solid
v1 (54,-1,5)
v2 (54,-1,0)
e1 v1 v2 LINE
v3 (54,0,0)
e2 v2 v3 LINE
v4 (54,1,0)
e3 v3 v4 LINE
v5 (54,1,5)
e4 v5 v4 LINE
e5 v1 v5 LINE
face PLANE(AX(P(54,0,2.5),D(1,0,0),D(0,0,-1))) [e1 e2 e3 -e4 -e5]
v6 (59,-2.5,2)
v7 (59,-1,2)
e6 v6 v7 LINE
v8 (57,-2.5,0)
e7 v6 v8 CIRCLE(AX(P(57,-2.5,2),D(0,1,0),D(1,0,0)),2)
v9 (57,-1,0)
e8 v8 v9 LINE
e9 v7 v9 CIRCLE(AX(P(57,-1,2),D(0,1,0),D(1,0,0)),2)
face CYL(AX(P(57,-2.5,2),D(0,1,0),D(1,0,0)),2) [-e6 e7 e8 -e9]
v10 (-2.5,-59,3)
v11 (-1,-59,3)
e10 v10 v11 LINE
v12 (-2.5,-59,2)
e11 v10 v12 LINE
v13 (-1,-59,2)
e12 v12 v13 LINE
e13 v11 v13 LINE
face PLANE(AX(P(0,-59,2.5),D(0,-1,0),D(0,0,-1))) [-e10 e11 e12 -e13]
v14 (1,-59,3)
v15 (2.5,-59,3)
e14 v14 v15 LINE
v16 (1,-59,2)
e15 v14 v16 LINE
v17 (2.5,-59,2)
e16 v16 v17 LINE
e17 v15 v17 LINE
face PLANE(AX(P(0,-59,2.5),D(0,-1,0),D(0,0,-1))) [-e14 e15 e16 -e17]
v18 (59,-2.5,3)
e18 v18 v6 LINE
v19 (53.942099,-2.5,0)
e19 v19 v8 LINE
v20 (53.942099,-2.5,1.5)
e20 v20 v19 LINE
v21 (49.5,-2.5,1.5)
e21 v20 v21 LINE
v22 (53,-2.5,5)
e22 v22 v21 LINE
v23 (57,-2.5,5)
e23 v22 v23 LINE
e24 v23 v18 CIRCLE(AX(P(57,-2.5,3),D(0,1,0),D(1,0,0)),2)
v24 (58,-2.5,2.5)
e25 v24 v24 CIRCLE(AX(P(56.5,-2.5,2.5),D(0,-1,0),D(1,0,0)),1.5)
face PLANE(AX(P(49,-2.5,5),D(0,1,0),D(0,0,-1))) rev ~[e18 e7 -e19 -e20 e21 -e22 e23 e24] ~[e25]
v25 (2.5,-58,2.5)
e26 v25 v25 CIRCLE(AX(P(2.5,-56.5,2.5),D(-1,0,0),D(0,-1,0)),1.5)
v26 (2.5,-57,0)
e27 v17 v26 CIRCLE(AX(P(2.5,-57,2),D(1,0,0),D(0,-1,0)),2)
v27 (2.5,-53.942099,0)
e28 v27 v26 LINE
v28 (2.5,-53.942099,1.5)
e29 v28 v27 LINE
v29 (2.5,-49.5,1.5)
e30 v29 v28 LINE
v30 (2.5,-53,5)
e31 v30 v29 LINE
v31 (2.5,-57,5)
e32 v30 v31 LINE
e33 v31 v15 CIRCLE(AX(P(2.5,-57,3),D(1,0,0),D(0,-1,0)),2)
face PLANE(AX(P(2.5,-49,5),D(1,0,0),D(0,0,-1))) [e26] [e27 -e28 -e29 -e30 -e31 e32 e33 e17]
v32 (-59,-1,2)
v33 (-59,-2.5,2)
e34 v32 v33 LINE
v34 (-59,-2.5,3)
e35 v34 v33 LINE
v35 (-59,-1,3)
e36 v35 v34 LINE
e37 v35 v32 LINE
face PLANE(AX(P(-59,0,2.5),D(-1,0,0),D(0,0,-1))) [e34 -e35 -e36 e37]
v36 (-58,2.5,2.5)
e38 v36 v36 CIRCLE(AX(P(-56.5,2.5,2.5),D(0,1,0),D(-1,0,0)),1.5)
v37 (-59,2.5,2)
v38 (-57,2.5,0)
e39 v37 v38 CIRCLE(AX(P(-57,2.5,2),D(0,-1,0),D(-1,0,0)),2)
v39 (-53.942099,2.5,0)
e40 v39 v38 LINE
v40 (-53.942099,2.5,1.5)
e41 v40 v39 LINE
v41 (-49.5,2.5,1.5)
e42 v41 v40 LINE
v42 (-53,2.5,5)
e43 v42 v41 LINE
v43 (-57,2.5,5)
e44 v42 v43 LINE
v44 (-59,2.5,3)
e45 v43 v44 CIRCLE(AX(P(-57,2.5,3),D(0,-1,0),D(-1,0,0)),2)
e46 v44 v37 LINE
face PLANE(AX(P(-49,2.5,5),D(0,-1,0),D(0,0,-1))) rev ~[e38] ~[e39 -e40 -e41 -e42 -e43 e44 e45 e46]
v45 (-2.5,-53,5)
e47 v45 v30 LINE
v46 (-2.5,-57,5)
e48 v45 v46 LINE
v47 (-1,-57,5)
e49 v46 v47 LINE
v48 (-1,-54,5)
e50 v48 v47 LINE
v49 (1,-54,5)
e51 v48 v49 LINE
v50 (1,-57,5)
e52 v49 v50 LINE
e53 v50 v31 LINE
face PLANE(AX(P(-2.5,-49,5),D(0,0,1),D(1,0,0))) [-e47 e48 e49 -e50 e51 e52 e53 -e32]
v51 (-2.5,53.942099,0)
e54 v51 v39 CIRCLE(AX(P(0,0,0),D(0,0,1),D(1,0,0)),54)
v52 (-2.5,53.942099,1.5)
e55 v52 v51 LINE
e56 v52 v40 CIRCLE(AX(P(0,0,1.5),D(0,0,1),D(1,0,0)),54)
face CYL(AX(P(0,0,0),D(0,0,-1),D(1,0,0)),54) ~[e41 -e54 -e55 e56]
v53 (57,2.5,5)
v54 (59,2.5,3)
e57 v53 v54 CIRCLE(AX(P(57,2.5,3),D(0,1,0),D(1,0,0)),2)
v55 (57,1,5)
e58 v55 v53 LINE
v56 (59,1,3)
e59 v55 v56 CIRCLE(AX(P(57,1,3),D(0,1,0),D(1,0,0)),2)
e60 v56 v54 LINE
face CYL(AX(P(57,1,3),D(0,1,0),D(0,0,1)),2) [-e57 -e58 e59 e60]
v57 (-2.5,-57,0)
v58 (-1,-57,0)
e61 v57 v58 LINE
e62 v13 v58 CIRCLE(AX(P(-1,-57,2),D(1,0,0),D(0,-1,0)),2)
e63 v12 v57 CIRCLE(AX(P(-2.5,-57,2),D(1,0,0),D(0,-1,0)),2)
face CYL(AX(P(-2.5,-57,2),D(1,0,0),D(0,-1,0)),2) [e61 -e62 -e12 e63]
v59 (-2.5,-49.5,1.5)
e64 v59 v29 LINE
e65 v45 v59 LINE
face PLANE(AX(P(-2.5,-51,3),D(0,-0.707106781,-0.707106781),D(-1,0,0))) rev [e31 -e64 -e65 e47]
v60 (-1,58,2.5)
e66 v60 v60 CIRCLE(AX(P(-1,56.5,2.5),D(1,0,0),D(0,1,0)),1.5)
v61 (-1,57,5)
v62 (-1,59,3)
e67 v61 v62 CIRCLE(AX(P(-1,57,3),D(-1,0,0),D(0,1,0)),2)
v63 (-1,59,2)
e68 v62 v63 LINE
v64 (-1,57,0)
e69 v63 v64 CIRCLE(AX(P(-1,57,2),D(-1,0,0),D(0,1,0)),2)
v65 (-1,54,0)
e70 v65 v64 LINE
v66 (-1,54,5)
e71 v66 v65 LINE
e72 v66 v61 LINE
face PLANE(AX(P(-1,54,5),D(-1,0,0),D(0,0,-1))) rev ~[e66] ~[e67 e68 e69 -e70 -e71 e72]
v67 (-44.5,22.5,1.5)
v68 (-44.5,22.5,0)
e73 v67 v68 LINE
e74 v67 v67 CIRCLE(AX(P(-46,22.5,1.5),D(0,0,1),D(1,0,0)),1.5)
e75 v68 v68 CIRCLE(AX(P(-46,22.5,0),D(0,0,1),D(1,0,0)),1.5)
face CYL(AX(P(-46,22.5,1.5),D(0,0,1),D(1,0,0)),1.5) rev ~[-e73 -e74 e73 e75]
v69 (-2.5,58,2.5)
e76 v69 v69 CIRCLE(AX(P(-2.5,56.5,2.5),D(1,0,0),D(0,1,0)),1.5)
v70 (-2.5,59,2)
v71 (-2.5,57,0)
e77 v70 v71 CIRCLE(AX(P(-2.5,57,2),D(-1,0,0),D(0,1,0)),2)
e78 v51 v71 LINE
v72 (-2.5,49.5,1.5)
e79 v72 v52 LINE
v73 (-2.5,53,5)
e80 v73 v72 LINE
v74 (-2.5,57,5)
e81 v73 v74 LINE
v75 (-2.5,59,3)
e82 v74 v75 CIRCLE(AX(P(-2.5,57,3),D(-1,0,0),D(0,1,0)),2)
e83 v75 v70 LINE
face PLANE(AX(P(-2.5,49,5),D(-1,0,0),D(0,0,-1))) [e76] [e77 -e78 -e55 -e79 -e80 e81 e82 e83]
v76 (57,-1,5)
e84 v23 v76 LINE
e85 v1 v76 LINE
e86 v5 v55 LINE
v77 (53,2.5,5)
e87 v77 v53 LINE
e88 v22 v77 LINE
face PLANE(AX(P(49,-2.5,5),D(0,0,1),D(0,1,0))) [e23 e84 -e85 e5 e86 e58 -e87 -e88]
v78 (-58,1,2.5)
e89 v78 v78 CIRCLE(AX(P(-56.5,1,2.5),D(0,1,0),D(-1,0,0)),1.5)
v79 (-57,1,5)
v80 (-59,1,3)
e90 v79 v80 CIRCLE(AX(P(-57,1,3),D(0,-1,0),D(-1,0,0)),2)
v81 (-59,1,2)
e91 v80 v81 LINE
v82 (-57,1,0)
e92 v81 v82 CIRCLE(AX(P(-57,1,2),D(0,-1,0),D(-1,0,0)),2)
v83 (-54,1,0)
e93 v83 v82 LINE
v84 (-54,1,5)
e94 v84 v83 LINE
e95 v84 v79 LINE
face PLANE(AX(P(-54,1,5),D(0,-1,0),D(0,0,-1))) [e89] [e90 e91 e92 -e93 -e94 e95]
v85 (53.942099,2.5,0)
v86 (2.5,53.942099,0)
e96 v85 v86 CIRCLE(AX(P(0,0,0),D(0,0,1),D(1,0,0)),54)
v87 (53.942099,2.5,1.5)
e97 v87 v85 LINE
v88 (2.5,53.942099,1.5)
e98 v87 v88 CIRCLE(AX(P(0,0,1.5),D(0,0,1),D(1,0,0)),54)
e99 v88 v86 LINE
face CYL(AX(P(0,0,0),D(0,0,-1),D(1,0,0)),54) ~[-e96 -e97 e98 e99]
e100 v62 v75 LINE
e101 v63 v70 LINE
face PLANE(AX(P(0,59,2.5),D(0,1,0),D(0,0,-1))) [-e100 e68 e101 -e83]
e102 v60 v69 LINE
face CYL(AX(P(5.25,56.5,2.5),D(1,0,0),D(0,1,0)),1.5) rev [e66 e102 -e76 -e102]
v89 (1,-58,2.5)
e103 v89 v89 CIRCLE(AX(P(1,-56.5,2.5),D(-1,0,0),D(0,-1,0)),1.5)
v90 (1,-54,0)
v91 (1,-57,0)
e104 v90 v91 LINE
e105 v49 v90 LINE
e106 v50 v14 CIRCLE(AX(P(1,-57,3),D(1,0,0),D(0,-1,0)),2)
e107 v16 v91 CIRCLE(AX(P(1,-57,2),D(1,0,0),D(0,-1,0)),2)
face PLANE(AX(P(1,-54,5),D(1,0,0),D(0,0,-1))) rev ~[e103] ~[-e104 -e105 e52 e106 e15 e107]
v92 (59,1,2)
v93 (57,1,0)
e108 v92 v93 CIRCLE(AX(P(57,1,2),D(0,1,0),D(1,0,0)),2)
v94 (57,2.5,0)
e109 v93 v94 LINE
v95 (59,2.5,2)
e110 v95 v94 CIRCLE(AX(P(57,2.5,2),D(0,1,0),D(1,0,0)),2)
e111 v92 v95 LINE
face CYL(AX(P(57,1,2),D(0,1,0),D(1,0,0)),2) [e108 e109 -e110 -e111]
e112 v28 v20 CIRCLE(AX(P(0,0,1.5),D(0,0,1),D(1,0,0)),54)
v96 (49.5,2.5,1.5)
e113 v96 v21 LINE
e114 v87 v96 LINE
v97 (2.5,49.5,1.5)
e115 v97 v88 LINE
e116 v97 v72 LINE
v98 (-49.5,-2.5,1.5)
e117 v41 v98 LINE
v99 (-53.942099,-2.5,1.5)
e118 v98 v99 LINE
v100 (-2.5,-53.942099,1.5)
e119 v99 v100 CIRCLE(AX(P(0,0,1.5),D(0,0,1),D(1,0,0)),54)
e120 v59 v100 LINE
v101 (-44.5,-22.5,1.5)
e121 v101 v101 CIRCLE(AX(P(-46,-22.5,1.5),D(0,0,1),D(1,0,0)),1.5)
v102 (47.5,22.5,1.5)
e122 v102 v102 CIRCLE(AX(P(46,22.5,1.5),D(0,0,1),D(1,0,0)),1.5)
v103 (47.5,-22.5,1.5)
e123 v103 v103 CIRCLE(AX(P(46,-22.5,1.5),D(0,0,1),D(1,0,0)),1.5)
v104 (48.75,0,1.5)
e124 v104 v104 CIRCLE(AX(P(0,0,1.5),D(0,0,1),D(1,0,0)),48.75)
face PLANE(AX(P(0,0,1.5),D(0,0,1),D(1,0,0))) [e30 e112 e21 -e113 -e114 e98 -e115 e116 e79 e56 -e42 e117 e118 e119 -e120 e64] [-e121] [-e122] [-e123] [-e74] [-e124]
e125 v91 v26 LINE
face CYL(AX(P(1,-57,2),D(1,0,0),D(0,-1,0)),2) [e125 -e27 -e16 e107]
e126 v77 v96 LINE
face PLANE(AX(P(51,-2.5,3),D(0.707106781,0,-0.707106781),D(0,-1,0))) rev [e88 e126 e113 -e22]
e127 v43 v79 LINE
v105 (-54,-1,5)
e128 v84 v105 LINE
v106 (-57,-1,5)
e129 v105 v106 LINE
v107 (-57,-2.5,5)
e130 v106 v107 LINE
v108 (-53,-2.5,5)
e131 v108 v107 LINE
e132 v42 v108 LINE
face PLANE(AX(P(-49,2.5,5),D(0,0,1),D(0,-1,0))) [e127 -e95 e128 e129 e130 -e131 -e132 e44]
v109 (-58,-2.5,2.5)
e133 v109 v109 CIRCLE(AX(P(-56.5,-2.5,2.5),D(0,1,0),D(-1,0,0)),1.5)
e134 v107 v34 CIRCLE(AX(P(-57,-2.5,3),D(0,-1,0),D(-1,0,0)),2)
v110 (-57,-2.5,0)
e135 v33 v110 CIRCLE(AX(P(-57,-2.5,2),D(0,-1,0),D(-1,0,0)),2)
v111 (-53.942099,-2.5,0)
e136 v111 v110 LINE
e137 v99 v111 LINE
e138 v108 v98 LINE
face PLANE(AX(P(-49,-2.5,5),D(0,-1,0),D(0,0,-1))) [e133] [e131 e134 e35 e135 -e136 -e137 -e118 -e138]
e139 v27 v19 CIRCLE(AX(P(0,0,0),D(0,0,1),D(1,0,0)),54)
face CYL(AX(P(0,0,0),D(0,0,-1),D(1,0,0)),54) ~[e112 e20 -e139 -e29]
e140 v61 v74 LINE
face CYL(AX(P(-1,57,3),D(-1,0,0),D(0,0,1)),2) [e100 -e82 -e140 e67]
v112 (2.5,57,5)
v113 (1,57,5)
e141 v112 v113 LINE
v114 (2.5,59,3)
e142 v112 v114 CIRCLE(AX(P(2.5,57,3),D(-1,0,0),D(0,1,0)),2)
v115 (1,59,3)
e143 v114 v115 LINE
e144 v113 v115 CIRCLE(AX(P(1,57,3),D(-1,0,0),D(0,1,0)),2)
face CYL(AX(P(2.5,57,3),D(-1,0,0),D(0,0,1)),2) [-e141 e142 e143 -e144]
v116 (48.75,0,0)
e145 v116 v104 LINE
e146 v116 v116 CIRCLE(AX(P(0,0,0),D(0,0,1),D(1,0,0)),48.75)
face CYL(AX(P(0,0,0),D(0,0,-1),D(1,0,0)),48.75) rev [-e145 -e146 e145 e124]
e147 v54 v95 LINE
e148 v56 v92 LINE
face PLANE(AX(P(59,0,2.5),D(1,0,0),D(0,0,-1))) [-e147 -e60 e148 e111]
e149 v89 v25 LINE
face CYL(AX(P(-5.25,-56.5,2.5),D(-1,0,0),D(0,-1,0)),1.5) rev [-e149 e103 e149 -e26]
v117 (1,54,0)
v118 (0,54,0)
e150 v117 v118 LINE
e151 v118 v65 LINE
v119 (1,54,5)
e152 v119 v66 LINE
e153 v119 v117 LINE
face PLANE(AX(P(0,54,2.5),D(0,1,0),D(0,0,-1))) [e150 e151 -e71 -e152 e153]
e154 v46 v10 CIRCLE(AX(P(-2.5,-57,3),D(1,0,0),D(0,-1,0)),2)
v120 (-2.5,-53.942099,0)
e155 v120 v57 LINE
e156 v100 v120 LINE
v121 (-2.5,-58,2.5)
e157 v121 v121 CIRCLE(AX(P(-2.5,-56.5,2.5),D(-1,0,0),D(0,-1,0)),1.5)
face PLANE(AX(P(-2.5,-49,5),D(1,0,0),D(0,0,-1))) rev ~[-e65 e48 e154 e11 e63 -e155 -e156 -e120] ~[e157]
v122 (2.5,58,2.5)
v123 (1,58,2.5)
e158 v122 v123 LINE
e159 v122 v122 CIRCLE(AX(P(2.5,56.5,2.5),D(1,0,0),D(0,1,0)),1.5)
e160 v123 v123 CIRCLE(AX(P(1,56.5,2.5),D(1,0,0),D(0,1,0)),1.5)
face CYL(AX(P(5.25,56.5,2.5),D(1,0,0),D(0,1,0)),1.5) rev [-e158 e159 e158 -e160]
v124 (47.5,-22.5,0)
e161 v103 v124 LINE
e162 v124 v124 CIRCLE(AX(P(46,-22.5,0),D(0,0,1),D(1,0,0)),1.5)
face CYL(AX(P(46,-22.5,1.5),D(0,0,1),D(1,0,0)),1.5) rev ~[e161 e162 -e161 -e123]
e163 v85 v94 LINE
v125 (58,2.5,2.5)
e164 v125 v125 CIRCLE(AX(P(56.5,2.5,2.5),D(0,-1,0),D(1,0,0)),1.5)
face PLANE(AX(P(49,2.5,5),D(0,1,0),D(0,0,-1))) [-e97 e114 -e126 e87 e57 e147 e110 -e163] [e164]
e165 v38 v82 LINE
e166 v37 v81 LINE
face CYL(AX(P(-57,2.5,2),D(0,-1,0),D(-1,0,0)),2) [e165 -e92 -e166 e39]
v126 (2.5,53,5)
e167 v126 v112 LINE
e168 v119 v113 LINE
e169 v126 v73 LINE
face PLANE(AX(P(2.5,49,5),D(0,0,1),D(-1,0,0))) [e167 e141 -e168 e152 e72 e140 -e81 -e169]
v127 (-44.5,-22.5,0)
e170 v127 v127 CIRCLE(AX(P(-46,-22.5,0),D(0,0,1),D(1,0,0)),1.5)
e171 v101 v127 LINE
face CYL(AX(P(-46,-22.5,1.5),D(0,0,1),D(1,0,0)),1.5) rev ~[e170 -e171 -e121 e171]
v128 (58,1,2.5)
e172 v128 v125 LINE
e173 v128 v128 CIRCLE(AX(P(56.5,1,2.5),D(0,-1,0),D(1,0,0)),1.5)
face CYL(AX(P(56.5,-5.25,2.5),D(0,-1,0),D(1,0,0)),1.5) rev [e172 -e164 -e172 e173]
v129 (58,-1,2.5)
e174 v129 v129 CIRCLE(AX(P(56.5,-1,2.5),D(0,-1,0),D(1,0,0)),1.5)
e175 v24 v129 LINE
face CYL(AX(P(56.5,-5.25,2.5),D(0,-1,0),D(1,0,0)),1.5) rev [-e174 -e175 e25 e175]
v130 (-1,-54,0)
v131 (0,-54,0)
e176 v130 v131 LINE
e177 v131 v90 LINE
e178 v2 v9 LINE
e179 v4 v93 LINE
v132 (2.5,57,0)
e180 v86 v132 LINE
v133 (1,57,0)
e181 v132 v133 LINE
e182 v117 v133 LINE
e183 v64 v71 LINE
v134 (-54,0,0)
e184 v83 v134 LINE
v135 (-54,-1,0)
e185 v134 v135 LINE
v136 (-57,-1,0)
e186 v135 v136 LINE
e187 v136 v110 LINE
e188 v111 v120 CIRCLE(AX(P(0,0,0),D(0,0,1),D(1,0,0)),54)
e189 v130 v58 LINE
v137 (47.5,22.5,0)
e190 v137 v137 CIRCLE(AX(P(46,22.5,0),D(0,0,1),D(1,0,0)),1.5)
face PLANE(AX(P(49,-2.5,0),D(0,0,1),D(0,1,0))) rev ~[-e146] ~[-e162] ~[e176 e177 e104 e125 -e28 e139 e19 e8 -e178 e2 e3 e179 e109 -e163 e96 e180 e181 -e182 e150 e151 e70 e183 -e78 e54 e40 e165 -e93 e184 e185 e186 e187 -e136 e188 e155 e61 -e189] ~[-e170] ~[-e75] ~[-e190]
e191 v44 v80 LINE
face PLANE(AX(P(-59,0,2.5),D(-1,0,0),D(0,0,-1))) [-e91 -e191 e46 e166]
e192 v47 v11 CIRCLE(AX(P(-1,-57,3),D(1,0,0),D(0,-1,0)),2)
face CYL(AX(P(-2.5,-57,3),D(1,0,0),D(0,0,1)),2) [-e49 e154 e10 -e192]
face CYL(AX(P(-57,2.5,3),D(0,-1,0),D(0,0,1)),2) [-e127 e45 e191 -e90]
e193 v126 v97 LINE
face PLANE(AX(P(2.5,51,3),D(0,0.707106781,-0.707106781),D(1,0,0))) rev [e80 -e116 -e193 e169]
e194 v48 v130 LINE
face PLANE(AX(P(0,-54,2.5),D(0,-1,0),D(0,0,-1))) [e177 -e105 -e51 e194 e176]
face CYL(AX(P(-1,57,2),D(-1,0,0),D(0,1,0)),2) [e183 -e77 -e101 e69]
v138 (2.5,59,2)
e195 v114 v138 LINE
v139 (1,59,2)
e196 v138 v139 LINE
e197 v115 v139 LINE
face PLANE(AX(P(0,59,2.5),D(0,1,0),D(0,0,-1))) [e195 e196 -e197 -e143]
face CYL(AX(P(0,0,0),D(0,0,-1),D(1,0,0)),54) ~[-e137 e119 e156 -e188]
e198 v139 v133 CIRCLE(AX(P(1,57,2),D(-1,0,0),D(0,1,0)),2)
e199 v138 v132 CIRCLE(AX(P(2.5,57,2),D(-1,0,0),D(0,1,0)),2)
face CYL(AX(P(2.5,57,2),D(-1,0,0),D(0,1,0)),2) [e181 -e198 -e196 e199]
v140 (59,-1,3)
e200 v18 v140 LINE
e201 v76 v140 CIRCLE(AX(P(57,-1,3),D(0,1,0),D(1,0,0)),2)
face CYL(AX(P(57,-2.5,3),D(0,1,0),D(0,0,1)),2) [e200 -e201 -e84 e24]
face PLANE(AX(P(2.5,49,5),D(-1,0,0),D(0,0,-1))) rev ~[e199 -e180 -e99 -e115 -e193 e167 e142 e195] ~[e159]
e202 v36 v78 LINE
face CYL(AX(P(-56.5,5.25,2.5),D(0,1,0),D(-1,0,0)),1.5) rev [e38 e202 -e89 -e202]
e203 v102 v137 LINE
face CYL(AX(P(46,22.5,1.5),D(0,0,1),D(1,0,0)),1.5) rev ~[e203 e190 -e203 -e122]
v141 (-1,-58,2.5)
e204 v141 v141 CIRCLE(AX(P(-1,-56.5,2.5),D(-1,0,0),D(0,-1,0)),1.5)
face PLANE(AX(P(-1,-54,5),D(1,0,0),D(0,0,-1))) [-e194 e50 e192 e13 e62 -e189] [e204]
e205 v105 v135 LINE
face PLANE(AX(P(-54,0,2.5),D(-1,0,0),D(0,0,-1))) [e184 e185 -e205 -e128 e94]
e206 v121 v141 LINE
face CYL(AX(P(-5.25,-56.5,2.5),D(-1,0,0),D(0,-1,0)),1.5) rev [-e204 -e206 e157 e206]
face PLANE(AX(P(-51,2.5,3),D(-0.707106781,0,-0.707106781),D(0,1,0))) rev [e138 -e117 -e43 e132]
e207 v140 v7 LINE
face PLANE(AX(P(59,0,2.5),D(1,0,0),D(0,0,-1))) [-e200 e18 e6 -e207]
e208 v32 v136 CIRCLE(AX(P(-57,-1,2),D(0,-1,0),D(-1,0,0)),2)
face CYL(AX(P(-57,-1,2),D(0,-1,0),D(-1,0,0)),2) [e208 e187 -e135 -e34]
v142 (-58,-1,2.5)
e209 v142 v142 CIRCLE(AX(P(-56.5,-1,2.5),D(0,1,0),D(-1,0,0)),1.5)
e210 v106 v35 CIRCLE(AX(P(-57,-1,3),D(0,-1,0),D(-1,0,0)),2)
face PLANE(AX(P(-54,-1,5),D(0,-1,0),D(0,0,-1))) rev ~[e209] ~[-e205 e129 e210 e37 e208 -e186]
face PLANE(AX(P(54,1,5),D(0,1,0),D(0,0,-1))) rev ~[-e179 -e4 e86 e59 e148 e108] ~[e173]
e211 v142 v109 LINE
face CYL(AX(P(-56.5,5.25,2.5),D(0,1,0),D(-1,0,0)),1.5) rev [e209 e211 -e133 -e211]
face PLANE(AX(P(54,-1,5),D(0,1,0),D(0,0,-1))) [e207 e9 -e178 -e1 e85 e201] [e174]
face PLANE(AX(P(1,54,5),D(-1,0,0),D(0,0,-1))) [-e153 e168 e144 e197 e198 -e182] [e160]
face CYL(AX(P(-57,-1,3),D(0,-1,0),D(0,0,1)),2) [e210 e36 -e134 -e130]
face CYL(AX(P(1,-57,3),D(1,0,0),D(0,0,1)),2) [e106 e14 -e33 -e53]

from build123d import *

# Parameters (mm, degrees)
CYLINDER001_R              = 1.5
CYLINDER001_DEPTH          = 10
BOX001_W                   = 5
BOX001_H                   = 2
BOX001_DEPTH               = 5
BOX_W                      = 5
BOX_H                      = 5
BOX_DEPTH                  = 10
FILLET_R                   = 2
FILLET_PLACEMENT_ANGLE     = 90
CHAMFER_SIZE               = 4
SKETCH005_R                = 54
SKETCH005_R_2              = 48.75
PAD003_DEPTH               = 1.5
SKETCH006_R                = 1.5
POCKET002_DEPTH            = 1.501
CYLINDER003_R              = 1.5
CYLINDER003_DEPTH          = 10
BOX005_W                   = 5
BOX005_H                   = 2
BOX005_DEPTH               = 5
BOX004_W                   = 5
BOX004_H                   = 5
BOX004_DEPTH               = 10
FILLET002_R                = 2
FILLET002_PLACEMENT_ANGLE  = 90
CHAMFER002_SIZE            = 4
CHAMFER002_PLACEMENT_ANGLE = 90
CYLINDER004_R              = 1.5
CYLINDER004_DEPTH          = 10
BOX007_W                   = 5
BOX007_H                   = 2
BOX007_DEPTH               = 5
BOX006_W                   = 5
BOX006_H                   = 5
BOX006_DEPTH               = 10
FILLET003_R                = 2
FILLET003_PLACEMENT_ANGLE  = 90
CHAMFER003_SIZE            = 4
CHAMFER003_PLACEMENT_ANGLE = 180
CYLINDER005_R              = 1.5
CYLINDER005_DEPTH          = 10
BOX009_W                   = 5
BOX009_H                   = 2
BOX009_DEPTH               = 5
BOX008_W                   = 5
BOX008_H                   = 5
BOX008_DEPTH               = 10
FILLET004_R                = 2
FILLET004_PLACEMENT_ANGLE  = 90
CHAMFER004_SIZE            = 4
CHAMFER004_PLACEMENT_ANGLE = 90


with BuildPart() as screw:
    # Cylinder001 → Cylinder001 (new body)
    with BuildSketch(Plane(origin=(2.5, -2.75, 7.5), x_dir=(0, 0, 1), z_dir=(0, 1, 0))):
        Circle(CYLINDER001_R)
    extrude(amount=CYLINDER001_DEPTH)


with BuildPart() as extleghole:
    # Box001 → Box001 (new body)
    with BuildSketch(Plane(origin=(0, 1.5, 5), x_dir=(1, 0, 0), z_dir=(0, 0, 1))):
        with Locations((2.5, 1)):
            Rectangle(BOX001_W, BOX001_H)
    extrude(amount=BOX001_DEPTH)


with BuildPart() as screwext:
    # Box → Box (new body)
    with BuildSketch(Plane.XY):
        with Locations((2.5, 2.5)):
            Rectangle(BOX_W, BOX_H)
    extrude(amount=BOX_DEPTH)

    # Cut: cut ExtLegHole
    add(extleghole.part, mode=Mode.SUBTRACT)

    # Cut001: cut Screw
    add(screw.part, mode=Mode.SUBTRACT)

    # Fillet
    fillet_edges = [screwext.edges().sort_by_distance(p)[0] for p in [
        (0, 0.75, 10),
        (0, 4.25, 10),
        (5, 0.75, 10),
        (5, 4.25, 10),
    ]]
    fillet(fillet_edges, radius=FILLET_R)


with BuildPart() as screwext_1:
    # Fillet placement: moved
    add(screwext.part.moved(Location((49, -2.5, 5))).rotate(Axis((49, -2.5, 5), (0, 1, 0)), FILLET_PLACEMENT_ANGLE))

    # Chamfer
    chamfer_edges = [screwext_1.edges().sort_by_distance(p)[0] for p in [
        (49, 0, 5),
    ]]
    chamfer(chamfer_edges, length=CHAMFER_SIZE)


with BuildPart() as fusion:
    # Sketch005 → Pad003 (new body)
    with BuildSketch(Plane.XY):
        Circle(SKETCH005_R)
        Circle(SKETCH005_R_2, mode=Mode.SUBTRACT)
    extrude(amount=PAD003_DEPTH)

    # Sketch006 (on Face4 of Pad003) → Pocket002 (cut, through all)
    with BuildSketch(Plane.XY.offset(1.5)):
        with Locations((46, 22.5)):
            Circle(SKETCH006_R)
        with Locations((-46, -22.5)):
            Circle(SKETCH006_R)
        with Locations((-46, 22.5)):
            Circle(SKETCH006_R)
        with Locations((46, -22.5)):
            Circle(SKETCH006_R)
    extrude(amount=-POCKET002_DEPTH, mode=Mode.SUBTRACT)

    # Fusion: union ScrewExt
    add(screwext_1.part)


with BuildPart() as screw002:
    # Cylinder003 → Cylinder003 (new body)
    with BuildSketch(Plane(origin=(2.5, -2.75, 7.5), x_dir=(0, 0, 1), z_dir=(0, 1, 0))):
        Circle(CYLINDER003_R)
    extrude(amount=CYLINDER003_DEPTH)


with BuildPart() as extleghole002:
    # Box005 → Box005 (new body)
    with BuildSketch(Plane(origin=(0, 1.5, 5), x_dir=(1, 0, 0), z_dir=(0, 0, 1))):
        with Locations((2.5, 1)):
            Rectangle(BOX005_W, BOX005_H)
    extrude(amount=BOX005_DEPTH)


with BuildPart() as fusion001:
    # Box004 → Box004 (new body)
    with BuildSketch(Plane.XY):
        with Locations((2.5, 2.5)):
            Rectangle(BOX004_W, BOX004_H)
    extrude(amount=BOX004_DEPTH)

    # Cut004: cut ExtLegHole002
    add(extleghole002.part, mode=Mode.SUBTRACT)

    # Cut005: cut Screw002
    add(screw002.part, mode=Mode.SUBTRACT)

    # Fillet002
    fillet002_edges = [fusion001.edges().sort_by_distance(p)[0] for p in [
        (0, 0.75, 10),
        (0, 4.25, 10),
        (5, 0.75, 10),
        (5, 4.25, 10),
    ]]
    fillet(fillet002_edges, radius=FILLET002_R)


with BuildPart() as fusion001_1:
    # Fillet002 placement: moved
    add(fusion001.part.moved(Location((49, -2.5, 5))).rotate(Axis((49, -2.5, 5), (0, 1, 0)), FILLET002_PLACEMENT_ANGLE))

    # Chamfer002
    chamfer002_edges = [fusion001_1.edges().sort_by_distance(p)[0] for p in [
        (49, 0, 5),
    ]]
    chamfer(chamfer002_edges, length=CHAMFER002_SIZE)


with BuildPart() as fusion001_2:
    # Chamfer002 placement: moved
    add(fusion001_1.part.rotate(Axis((0, 0, 0), (0, 0, 1)), CHAMFER002_PLACEMENT_ANGLE))

    # Fusion001: union Fusion
    add(fusion.part)


with BuildPart() as screw003:
    # Cylinder004 → Cylinder004 (new body)
    with BuildSketch(Plane(origin=(2.5, -2.75, 7.5), x_dir=(0, 0, 1), z_dir=(0, 1, 0))):
        Circle(CYLINDER004_R)
    extrude(amount=CYLINDER004_DEPTH)


with BuildPart() as extleghole003:
    # Box007 → Box007 (new body)
    with BuildSketch(Plane(origin=(0, 1.5, 5), x_dir=(1, 0, 0), z_dir=(0, 0, 1))):
        with Locations((2.5, 1)):
            Rectangle(BOX007_W, BOX007_H)
    extrude(amount=BOX007_DEPTH)


with BuildPart() as fusion002:
    # Box006 → Box006 (new body)
    with BuildSketch(Plane.XY):
        with Locations((2.5, 2.5)):
            Rectangle(BOX006_W, BOX006_H)
    extrude(amount=BOX006_DEPTH)

    # Cut006: cut ExtLegHole003
    add(extleghole003.part, mode=Mode.SUBTRACT)

    # Cut007: cut Screw003
    add(screw003.part, mode=Mode.SUBTRACT)

    # Fillet003
    fillet003_edges = [fusion002.edges().sort_by_distance(p)[0] for p in [
        (0, 0.75, 10),
        (0, 4.25, 10),
        (5, 0.75, 10),
        (5, 4.25, 10),
    ]]
    fillet(fillet003_edges, radius=FILLET003_R)


with BuildPart() as fusion002_1:
    # Fillet003 placement: moved
    add(fusion002.part.moved(Location((49, -2.5, 5))).rotate(Axis((49, -2.5, 5), (0, 1, 0)), FILLET003_PLACEMENT_ANGLE))

    # Chamfer003
    chamfer003_edges = [fusion002_1.edges().sort_by_distance(p)[0] for p in [
        (49, 0, 5),
    ]]
    chamfer(chamfer003_edges, length=CHAMFER003_SIZE)


with BuildPart() as fusion002_2:
    # Chamfer003 placement: moved
    add(fusion002_1.part.rotate(Axis((0, 0, 0), (0, 0, 1)), CHAMFER003_PLACEMENT_ANGLE))

    # Fusion002: union Fusion001
    add(fusion001_2.part)


with BuildPart() as screw004:
    # Cylinder005 → Cylinder005 (new body)
    with BuildSketch(Plane(origin=(2.5, -2.75, 7.5), x_dir=(0, 0, 1), z_dir=(0, 1, 0))):
        Circle(CYLINDER005_R)
    extrude(amount=CYLINDER005_DEPTH)


with BuildPart() as extleghole004:
    # Box009 → Box009 (new body)
    with BuildSketch(Plane(origin=(0, 1.5, 5), x_dir=(1, 0, 0), z_dir=(0, 0, 1))):
        with Locations((2.5, 1)):
            Rectangle(BOX009_W, BOX009_H)
    extrude(amount=BOX009_DEPTH)


with BuildPart() as finalcsholder:
    # Box008 → Box008 (new body)
    with BuildSketch(Plane.XY):
        with Locations((2.5, 2.5)):
            Rectangle(BOX008_W, BOX008_H)
    extrude(amount=BOX008_DEPTH)

    # Cut008: cut ExtLegHole004
    add(extleghole004.part, mode=Mode.SUBTRACT)

    # Cut009: cut Screw004
    add(screw004.part, mode=Mode.SUBTRACT)

    # Fillet004
    fillet004_edges = [finalcsholder.edges().sort_by_distance(p)[0] for p in [
        (0, 0.75, 10),
        (0, 4.25, 10),
        (5, 0.75, 10),
        (5, 4.25, 10),
    ]]
    fillet(fillet004_edges, radius=FILLET004_R)


with BuildPart() as finalcsholder_1:
    # Fillet004 placement: moved
    add(finalcsholder.part.moved(Location((49, -2.5, 5))).rotate(Axis((49, -2.5, 5), (0, 1, 0)), FILLET004_PLACEMENT_ANGLE))

    # Chamfer004
    chamfer004_edges = [finalcsholder_1.edges().sort_by_distance(p)[0] for p in [
        (49, 0, 5),
    ]]
    chamfer(chamfer004_edges, length=CHAMFER004_SIZE)


with BuildPart() as finalcsholder_2:
    # Chamfer004 placement: moved
    add(finalcsholder_1.part.rotate(Axis((0, 0, 0), (0, 0, -1)), CHAMFER004_PLACEMENT_ANGLE))

    # Fusion003: union Fusion002
    add(fusion002_2.part)


solid = finalcsholder_2.part
